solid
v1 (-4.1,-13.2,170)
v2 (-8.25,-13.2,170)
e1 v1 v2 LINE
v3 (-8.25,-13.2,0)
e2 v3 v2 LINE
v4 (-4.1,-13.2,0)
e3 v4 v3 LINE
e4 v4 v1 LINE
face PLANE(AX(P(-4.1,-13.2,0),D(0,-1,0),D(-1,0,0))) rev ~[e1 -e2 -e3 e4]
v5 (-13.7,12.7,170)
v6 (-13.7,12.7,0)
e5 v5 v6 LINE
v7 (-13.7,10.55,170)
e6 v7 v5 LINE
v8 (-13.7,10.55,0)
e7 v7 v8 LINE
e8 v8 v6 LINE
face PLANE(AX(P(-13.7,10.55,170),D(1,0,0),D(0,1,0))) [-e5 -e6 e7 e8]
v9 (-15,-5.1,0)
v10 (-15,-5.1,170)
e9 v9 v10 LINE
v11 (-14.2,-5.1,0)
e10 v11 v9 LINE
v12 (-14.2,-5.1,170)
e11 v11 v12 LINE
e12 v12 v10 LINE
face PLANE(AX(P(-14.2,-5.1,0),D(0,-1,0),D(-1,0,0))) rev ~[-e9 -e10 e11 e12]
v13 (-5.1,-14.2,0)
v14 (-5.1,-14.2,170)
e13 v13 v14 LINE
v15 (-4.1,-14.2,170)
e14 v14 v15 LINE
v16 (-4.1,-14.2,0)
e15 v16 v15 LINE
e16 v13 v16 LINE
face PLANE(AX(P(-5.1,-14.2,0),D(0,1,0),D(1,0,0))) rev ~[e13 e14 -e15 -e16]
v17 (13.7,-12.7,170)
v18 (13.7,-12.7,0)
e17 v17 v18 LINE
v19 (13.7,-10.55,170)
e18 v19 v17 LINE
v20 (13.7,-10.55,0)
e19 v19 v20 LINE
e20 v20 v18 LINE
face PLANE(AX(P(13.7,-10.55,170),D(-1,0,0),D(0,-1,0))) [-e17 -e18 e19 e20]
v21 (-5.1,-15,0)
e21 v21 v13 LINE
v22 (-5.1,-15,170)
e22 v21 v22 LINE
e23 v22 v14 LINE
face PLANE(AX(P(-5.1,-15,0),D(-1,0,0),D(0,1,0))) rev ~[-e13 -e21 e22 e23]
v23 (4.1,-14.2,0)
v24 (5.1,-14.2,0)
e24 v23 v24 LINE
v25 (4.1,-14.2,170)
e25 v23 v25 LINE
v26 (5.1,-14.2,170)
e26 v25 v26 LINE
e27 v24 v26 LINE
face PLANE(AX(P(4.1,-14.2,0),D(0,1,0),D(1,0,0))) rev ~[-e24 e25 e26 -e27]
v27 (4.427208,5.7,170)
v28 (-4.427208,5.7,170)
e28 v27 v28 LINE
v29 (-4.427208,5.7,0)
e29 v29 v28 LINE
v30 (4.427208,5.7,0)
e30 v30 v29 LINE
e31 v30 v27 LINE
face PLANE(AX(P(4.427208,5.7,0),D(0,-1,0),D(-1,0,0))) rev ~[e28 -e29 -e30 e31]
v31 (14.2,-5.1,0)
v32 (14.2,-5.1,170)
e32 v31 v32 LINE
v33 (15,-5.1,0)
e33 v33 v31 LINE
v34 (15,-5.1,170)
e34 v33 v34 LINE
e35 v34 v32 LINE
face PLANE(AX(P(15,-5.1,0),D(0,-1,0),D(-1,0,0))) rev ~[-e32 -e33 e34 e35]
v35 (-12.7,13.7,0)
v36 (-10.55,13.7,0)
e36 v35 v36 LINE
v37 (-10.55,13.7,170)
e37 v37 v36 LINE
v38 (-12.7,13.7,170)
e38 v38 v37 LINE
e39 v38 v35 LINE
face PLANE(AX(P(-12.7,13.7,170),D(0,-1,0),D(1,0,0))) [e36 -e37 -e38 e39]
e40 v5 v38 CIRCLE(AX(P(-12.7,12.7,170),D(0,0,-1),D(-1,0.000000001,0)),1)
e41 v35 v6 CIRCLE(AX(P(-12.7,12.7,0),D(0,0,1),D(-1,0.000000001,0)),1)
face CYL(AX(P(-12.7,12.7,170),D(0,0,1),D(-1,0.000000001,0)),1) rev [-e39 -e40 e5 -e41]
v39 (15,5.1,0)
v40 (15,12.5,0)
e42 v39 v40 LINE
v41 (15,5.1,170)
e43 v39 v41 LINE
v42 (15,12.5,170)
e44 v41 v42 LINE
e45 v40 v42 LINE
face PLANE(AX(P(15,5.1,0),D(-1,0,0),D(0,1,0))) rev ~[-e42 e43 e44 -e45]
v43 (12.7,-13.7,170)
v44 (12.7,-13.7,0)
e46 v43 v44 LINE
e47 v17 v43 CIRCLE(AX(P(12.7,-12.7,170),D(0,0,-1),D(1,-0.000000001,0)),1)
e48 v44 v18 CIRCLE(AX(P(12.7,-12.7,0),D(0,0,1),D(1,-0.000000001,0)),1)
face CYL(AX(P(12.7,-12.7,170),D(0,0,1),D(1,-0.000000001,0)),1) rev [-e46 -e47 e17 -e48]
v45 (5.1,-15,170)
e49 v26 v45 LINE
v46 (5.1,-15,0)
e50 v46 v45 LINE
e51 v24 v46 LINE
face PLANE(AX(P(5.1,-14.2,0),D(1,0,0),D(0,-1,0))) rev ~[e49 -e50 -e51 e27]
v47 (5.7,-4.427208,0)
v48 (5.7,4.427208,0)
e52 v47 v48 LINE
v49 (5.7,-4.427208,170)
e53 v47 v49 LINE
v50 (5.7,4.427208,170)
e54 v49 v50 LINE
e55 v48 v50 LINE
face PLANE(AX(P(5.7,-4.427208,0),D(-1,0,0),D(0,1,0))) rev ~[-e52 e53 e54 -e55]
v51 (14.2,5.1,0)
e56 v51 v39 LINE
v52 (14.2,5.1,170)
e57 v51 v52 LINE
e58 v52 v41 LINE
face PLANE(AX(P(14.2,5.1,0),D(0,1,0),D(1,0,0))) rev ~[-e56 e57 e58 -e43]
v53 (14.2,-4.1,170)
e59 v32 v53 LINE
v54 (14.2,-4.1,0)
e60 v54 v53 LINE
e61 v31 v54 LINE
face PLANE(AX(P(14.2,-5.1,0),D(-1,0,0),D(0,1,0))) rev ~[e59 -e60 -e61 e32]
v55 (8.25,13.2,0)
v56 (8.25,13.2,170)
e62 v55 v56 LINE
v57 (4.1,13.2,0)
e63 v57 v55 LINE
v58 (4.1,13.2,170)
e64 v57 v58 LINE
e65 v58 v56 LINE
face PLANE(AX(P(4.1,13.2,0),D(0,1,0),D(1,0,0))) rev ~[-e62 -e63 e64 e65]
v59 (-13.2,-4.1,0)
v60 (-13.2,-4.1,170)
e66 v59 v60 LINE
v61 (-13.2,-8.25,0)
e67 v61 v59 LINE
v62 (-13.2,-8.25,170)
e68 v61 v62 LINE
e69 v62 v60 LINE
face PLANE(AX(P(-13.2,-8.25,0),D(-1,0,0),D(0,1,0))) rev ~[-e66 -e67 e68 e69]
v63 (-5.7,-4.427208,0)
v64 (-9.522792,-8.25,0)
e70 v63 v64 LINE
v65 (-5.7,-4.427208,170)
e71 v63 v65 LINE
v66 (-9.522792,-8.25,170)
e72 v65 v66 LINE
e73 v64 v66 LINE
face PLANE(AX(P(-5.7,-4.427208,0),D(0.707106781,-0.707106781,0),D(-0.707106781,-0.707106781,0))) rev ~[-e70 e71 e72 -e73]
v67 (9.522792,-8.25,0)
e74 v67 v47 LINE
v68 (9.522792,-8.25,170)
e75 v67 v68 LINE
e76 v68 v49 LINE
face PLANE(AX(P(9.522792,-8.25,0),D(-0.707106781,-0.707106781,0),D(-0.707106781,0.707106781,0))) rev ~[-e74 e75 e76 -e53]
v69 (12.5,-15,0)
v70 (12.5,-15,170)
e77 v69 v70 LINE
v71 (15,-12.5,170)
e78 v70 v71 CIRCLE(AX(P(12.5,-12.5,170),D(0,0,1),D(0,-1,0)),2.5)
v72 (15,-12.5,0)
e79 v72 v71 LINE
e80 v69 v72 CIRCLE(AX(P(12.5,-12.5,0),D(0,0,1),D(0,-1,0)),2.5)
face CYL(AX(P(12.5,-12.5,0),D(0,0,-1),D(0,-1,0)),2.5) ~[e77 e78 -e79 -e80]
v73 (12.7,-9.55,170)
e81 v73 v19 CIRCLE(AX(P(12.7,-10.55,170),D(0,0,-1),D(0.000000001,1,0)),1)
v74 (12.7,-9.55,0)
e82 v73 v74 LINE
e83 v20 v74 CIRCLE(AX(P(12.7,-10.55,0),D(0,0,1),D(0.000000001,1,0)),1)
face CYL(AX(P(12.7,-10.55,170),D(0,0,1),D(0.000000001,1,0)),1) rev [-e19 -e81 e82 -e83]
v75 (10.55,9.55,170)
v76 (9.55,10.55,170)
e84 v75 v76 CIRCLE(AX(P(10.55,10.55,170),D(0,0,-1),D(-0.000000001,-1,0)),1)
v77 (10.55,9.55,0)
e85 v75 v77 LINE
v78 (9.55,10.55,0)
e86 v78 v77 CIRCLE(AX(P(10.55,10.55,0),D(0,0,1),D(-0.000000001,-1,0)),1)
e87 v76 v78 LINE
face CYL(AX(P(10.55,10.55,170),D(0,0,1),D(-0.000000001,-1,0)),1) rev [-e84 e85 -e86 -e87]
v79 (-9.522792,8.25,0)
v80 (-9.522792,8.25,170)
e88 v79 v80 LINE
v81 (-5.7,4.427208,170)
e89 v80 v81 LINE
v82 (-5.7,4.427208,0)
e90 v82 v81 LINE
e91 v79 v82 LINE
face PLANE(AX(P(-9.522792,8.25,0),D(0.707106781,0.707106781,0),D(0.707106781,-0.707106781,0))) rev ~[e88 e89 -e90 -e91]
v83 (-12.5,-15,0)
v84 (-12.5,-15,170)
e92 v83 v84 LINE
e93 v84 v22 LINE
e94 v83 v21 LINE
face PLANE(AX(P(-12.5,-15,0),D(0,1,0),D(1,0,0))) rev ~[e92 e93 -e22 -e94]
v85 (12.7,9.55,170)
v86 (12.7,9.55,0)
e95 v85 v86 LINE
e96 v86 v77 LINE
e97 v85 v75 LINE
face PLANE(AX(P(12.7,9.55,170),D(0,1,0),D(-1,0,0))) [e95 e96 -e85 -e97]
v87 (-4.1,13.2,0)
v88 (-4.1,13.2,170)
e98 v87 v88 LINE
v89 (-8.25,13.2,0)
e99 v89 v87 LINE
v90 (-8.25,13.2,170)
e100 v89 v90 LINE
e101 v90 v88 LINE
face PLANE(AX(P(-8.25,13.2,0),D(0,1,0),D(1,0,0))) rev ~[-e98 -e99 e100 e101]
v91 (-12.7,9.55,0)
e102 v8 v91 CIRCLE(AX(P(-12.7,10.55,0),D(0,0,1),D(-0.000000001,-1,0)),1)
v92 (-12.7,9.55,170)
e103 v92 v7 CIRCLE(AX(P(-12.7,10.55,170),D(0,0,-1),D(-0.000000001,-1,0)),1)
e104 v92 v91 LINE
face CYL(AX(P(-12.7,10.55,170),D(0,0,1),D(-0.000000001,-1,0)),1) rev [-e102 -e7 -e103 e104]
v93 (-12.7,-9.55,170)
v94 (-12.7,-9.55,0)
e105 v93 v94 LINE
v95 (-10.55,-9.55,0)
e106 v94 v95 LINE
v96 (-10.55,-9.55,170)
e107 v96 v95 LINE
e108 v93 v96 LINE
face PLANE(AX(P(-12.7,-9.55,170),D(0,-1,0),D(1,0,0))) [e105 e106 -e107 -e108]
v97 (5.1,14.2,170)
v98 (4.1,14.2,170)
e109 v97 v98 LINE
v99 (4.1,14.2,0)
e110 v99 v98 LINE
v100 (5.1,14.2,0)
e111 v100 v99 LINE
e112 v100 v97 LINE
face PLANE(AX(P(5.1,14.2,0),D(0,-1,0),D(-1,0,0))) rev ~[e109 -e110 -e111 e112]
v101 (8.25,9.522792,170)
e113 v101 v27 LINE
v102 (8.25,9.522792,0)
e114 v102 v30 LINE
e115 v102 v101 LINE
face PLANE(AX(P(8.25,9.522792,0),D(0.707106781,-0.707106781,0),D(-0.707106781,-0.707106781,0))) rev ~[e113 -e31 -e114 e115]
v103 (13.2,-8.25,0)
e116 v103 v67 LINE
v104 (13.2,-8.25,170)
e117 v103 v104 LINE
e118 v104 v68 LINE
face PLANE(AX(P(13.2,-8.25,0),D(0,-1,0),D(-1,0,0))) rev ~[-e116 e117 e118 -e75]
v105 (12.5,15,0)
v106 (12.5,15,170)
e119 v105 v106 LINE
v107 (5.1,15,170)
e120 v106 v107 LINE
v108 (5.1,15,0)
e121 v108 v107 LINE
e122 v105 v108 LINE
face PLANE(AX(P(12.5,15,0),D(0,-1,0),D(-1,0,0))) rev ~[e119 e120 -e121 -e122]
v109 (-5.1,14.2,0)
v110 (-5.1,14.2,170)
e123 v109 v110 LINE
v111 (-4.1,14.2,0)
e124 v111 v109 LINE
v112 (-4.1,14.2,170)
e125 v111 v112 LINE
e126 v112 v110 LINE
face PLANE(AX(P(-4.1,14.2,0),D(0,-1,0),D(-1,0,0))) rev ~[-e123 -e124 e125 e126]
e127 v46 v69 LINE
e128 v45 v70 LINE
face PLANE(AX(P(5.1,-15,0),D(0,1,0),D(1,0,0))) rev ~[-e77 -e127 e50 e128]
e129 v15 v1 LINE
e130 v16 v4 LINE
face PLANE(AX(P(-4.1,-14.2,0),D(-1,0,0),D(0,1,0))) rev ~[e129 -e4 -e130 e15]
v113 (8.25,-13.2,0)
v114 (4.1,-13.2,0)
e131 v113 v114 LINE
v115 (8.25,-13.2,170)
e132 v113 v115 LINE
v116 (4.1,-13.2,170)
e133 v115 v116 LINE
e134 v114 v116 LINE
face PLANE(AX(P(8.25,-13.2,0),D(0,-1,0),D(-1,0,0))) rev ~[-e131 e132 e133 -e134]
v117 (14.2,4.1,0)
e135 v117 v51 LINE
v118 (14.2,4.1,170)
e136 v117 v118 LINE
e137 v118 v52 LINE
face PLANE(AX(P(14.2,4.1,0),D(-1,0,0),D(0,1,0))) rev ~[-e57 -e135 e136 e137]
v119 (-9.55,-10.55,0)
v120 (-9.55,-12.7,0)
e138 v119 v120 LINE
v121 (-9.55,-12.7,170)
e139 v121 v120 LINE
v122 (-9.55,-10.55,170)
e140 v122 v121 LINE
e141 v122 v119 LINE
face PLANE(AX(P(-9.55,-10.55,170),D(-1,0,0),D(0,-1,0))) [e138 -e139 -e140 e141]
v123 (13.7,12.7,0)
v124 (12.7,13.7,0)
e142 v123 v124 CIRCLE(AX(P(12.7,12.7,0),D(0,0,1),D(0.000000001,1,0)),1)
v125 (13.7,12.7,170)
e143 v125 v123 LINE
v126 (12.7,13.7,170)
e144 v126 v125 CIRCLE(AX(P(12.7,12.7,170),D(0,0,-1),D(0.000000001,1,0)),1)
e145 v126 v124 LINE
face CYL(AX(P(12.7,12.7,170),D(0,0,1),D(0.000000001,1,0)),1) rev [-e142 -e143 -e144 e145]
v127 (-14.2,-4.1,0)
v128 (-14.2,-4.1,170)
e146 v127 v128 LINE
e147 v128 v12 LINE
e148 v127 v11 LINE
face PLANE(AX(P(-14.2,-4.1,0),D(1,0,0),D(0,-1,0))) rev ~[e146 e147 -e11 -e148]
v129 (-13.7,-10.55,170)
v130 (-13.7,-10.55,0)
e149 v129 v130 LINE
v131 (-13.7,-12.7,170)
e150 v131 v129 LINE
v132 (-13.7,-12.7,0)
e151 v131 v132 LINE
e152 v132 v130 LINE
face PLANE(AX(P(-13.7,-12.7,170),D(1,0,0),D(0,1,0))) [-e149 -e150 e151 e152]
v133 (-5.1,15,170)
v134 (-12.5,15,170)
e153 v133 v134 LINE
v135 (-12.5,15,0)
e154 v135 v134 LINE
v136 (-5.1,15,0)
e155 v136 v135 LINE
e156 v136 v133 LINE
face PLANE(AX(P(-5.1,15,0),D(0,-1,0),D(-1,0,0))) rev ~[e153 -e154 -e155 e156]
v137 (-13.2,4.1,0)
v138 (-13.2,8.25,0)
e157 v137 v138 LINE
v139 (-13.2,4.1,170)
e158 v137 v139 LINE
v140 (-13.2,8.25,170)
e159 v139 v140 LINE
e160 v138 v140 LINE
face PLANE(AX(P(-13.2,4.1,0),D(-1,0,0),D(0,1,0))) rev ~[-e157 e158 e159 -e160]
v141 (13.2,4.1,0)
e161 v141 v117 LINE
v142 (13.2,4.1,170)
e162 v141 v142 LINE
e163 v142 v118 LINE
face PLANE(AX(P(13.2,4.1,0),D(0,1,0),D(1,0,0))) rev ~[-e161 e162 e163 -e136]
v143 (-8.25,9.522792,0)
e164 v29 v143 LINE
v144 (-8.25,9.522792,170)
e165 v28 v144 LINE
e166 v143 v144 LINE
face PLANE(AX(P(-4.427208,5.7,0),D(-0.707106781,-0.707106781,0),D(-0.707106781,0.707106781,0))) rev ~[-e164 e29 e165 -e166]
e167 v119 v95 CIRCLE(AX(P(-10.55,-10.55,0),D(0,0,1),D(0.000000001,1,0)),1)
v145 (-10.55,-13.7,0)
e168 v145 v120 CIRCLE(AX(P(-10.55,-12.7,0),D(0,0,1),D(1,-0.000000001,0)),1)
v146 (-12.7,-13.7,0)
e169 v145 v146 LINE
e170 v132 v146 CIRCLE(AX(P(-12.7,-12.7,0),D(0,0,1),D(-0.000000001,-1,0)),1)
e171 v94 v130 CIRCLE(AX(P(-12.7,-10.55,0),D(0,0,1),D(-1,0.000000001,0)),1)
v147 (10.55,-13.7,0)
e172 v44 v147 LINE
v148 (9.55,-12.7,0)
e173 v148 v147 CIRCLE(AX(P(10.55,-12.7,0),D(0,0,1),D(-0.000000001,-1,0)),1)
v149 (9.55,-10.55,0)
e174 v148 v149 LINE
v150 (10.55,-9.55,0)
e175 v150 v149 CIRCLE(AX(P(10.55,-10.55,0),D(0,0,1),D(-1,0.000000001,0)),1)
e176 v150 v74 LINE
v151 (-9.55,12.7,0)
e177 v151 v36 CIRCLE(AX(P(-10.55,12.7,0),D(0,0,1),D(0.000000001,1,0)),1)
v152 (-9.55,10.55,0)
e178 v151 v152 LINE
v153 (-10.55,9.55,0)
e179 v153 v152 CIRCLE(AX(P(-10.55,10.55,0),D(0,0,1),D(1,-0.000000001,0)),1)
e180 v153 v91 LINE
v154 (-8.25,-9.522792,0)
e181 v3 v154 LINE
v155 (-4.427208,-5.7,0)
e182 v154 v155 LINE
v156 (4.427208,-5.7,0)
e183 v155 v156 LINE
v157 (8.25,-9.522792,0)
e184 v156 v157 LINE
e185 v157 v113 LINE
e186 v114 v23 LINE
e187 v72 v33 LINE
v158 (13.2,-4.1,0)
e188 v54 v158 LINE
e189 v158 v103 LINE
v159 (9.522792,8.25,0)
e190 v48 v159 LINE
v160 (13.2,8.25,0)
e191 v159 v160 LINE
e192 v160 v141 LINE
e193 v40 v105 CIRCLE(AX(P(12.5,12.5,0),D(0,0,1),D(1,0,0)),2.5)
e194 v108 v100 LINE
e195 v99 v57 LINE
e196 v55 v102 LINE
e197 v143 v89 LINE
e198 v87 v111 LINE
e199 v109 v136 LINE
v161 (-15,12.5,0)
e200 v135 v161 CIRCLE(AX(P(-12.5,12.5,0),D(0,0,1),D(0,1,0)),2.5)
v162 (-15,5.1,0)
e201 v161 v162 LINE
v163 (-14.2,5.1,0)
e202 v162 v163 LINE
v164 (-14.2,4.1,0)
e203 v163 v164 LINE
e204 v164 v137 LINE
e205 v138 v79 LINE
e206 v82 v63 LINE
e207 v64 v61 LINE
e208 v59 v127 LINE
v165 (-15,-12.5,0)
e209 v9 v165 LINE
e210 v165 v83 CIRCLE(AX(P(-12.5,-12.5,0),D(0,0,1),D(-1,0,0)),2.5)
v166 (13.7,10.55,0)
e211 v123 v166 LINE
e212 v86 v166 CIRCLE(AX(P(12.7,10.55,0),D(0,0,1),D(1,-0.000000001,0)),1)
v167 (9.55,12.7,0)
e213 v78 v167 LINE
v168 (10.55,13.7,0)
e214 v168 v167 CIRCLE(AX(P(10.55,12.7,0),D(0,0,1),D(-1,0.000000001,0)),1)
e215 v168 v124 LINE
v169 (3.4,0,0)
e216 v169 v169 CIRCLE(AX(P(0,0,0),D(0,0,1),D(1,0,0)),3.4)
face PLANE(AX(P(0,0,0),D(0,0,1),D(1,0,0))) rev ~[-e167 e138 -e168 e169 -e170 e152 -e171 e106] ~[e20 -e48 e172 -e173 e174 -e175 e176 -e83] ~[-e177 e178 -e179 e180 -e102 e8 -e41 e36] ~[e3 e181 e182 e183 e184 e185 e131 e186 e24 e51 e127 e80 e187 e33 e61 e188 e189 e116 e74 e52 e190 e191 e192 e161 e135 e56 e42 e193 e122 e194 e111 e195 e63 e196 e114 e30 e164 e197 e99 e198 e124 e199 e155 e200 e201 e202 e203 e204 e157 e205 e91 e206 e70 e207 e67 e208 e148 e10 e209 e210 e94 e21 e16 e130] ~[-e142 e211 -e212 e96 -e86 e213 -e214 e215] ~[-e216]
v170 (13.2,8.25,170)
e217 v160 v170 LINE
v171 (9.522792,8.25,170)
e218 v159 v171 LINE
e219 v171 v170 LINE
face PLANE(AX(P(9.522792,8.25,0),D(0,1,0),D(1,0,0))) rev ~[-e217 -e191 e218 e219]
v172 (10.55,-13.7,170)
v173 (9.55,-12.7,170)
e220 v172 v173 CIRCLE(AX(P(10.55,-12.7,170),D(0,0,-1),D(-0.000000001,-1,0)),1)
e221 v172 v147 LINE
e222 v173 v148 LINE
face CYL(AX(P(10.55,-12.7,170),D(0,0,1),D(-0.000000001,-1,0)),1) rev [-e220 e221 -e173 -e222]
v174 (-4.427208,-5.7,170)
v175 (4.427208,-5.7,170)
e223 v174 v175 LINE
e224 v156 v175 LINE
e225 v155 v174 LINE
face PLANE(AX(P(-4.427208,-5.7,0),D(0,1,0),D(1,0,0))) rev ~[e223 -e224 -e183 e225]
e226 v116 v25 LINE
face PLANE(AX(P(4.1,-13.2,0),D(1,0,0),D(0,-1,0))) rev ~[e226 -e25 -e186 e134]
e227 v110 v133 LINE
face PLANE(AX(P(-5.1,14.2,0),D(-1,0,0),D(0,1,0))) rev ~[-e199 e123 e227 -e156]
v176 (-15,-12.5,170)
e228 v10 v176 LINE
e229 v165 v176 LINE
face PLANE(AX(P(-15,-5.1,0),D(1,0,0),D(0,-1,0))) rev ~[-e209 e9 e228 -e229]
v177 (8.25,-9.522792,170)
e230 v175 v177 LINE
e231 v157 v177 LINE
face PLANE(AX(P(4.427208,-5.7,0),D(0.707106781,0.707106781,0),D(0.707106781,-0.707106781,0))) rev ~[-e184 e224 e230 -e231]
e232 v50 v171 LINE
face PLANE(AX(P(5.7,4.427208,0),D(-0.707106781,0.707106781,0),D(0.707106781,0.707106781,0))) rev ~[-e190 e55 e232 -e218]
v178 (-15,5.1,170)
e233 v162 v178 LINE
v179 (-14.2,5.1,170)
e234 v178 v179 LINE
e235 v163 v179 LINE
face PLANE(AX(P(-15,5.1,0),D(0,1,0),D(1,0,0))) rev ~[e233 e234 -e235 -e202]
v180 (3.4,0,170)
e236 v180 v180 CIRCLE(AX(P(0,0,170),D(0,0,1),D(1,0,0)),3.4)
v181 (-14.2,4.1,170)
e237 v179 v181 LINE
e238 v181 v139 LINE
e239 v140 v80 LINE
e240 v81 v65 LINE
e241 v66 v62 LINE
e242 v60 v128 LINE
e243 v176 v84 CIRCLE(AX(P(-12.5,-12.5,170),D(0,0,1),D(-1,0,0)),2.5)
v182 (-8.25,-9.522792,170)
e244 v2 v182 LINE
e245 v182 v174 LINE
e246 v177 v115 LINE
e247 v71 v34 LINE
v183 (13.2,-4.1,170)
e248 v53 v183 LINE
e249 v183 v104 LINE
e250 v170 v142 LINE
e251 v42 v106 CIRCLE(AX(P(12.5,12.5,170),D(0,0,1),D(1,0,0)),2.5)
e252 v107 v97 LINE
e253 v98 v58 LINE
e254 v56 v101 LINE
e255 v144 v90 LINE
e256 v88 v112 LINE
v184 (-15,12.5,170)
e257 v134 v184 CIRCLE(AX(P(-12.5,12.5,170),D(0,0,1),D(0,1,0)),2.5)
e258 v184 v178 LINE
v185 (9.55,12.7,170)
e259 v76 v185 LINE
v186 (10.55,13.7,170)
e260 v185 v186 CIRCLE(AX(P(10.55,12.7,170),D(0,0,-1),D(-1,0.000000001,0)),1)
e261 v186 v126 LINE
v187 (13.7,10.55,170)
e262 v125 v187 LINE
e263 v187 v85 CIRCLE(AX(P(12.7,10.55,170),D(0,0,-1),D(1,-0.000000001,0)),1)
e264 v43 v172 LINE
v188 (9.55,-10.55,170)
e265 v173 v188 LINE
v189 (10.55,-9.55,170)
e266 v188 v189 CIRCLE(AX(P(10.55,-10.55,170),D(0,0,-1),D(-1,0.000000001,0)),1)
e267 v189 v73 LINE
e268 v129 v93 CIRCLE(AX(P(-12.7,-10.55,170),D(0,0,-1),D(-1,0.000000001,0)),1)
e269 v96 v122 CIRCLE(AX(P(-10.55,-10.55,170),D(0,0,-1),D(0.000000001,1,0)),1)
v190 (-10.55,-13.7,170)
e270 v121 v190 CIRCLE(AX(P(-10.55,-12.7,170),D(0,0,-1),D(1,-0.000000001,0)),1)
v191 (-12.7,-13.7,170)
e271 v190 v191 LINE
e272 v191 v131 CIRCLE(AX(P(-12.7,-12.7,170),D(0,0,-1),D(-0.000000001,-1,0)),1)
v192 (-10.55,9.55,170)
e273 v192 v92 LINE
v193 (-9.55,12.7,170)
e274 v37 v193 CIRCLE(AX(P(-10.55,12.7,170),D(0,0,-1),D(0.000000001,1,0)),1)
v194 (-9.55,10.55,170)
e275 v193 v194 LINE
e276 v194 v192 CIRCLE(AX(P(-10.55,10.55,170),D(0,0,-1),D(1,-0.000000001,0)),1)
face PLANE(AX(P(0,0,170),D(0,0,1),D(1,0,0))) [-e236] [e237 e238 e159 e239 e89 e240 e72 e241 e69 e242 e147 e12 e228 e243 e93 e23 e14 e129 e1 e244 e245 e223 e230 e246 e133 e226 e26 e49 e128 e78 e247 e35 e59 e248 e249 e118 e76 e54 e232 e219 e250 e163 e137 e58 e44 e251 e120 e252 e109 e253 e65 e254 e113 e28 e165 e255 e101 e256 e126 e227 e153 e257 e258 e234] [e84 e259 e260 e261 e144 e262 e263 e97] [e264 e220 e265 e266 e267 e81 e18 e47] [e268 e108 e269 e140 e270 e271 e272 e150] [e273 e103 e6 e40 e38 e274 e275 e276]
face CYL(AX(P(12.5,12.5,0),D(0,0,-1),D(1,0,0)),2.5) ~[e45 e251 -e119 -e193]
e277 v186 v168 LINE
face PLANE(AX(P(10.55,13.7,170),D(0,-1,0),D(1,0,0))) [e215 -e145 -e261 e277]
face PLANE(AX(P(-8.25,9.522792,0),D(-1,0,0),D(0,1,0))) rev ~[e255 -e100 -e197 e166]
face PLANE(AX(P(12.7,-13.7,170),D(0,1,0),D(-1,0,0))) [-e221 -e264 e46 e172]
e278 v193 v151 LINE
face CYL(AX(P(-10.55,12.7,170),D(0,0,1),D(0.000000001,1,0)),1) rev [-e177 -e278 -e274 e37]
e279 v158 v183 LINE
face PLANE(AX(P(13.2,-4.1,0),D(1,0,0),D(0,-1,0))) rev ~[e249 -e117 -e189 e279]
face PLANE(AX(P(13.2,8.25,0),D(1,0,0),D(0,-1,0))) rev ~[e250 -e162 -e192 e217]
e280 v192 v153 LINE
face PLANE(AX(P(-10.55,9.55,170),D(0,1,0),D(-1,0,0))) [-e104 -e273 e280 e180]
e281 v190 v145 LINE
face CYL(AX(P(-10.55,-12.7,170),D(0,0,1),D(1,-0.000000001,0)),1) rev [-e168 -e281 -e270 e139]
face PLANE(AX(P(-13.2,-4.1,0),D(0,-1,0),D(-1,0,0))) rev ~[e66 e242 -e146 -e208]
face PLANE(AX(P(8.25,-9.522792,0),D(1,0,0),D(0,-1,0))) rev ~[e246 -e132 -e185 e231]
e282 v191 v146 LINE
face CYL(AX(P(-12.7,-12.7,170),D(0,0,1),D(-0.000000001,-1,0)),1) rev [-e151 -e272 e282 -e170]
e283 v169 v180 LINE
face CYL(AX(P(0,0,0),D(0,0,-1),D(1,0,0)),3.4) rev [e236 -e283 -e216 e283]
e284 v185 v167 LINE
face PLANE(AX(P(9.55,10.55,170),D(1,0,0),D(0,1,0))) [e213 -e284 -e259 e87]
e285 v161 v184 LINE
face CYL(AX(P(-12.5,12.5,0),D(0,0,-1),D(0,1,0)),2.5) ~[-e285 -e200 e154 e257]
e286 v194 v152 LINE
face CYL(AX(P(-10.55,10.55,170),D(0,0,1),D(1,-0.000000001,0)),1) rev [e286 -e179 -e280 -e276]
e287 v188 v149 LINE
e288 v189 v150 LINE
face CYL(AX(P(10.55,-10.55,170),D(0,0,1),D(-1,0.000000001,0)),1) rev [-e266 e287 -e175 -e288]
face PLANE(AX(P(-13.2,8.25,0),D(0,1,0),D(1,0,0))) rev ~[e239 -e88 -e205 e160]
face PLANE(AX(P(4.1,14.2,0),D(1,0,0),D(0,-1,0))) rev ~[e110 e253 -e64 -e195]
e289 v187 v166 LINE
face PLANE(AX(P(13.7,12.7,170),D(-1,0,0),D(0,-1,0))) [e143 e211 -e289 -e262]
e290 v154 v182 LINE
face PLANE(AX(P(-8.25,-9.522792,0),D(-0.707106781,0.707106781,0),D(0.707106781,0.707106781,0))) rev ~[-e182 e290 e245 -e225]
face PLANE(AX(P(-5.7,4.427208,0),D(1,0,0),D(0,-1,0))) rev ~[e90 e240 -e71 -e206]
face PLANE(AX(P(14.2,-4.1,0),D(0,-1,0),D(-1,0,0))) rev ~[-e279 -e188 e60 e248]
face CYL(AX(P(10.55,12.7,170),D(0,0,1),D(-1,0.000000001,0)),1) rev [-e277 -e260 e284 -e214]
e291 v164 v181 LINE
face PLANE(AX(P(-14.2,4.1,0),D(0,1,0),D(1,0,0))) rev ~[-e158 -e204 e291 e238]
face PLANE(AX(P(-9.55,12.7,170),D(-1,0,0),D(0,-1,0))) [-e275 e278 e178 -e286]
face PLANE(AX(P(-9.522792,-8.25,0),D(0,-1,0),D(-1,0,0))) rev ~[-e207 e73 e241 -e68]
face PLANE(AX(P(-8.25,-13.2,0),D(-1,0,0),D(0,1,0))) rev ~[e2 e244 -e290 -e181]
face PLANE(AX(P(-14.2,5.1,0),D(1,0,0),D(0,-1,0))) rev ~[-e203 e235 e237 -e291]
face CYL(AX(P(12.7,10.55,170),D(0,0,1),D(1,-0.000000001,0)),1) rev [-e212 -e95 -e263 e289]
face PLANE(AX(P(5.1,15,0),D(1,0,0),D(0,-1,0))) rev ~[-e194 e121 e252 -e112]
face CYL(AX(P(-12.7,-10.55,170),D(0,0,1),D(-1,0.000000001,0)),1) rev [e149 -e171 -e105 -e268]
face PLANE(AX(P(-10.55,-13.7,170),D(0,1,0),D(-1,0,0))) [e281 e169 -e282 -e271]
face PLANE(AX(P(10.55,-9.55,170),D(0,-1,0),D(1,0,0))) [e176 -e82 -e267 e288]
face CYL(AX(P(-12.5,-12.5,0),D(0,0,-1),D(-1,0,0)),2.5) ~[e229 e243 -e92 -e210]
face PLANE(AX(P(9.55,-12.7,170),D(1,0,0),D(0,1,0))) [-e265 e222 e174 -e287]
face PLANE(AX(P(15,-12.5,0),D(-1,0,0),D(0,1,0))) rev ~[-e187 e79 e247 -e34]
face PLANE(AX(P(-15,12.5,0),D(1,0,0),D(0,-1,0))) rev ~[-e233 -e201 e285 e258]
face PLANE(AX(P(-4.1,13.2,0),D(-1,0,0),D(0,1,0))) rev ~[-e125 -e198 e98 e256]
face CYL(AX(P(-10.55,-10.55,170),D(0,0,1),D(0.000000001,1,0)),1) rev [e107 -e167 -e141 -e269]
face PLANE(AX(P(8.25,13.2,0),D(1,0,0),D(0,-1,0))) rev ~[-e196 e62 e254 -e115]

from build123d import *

# Parameters (mm, degrees)
SKETCH1_R      = 3.4
EXTRUDE1_DEPTH = 170
EXTRUDE2_DEPTH = 172.31841699


with BuildPart() as part:
    # Sketch1 → Extrude1 (new body)
    with BuildSketch(Plane.XY):
        with BuildLine():
            Line((-5.1, 14.2), (-5.1, 15))
            Line((-5.1, 15), (-12.5, 15))
            ThreePointArc((-12.5, 15), (-14.267766953, 14.267766953), (-15, 12.5))
            Line((-15, 12.5), (-15, 5.1))
            Line((-15, 5.1), (-14.2, 5.1))
            Line((-14.2, 5.1), (-14.2, 4.1))
            Line((-14.2, 4.1), (-13.2, 4.1))
            Line((-13.2, 4.1), (-13.2, 8.25))
            Line((-13.2, 8.25), (-9.522792206, 8.25))
            Line((-9.522792206, 8.25), (-5.7, 4.427207794))
            Line((-5.7, 4.427207794), (-5.7, -4.427207794))
            Line((-5.7, -4.427207794), (-9.522792206, -8.25))
            Line((-9.522792206, -8.25), (-13.2, -8.25))
            Line((-13.2, -8.25), (-13.2, -4.1))
            Line((-13.2, -4.1), (-14.2, -4.1))
            Line((-14.2, -4.1), (-14.2, -5.1))
            Line((-14.2, -5.1), (-15, -5.1))
            Line((-15, -5.1), (-15, -12.5))
            ThreePointArc((-15, -12.5), (-14.267766953, -14.267766953), (-12.5, -15))
            Line((-12.5, -15), (-5.1, -15))
            Line((-5.1, -15), (-5.1, -14.2))
            Line((-5.1, -14.2), (-4.1, -14.2))
            Line((-4.1, -14.2), (-4.1, -13.2))
            Line((-4.1, -13.2), (-8.25, -13.2))
            Line((-8.25, -13.2), (-8.25, -9.522792206))
            Line((-8.25, -9.522792206), (-4.427207794, -5.7))
            Line((-4.427207794, -5.7), (4.427207794, -5.7))
            Line((4.427207794, -5.7), (8.25, -9.522792206))
            Line((8.25, -9.522792206), (8.25, -13.2))
            Line((8.25, -13.2), (4.1, -13.2))
            Line((4.1, -13.2), (4.1, -14.2))
            Line((4.1, -14.2), (5.1, -14.2))
            Line((5.1, -14.2), (5.1, -15))
            Line((5.1, -15), (12.5, -15))
            ThreePointArc((12.5, -15), (14.267766953, -14.267766953), (15, -12.5))
            Line((15, -12.5), (15, -5.1))
            Line((15, -5.1), (14.2, -5.1))
            Line((14.2, -5.1), (14.2, -4.1))
            Line((14.2, -4.1), (13.2, -4.1))
            Line((13.2, -4.1), (13.2, -8.25))
            Line((13.2, -8.25), (9.522792206, -8.25))
            Line((9.522792206, -8.25), (5.7, -4.427207794))
            Line((5.7, -4.427207794), (5.7, 4.427207794))
            Line((5.7, 4.427207794), (9.522792206, 8.25))
            Line((9.522792206, 8.25), (13.2, 8.25))
            Line((13.2, 8.25), (13.2, 4.1))
            Line((13.2, 4.1), (14.2, 4.1))
            Line((14.2, 4.1), (14.2, 5.1))
            Line((14.2, 5.1), (15, 5.1))
            Line((15, 5.1), (15, 12.5))
            ThreePointArc((15, 12.5), (14.267766953, 14.267766953), (12.5, 15))
            Line((12.5, 15), (5.1, 15))
            Line((5.1, 15), (5.1, 14.2))
            Line((5.1, 14.2), (4.1, 14.2))
            Line((4.1, 14.2), (4.1, 13.2))
            Line((4.1, 13.2), (8.25, 13.2))
            Line((8.25, 13.2), (8.25, 9.522792206))
            Line((8.25, 9.522792206), (4.427207794, 5.7))
            Line((4.427207794, 5.7), (-4.427207794, 5.7))
            Line((-4.427207794, 5.7), (-8.25, 9.522792206))
            Line((-8.25, 9.522792206), (-8.25, 13.2))
            Line((-8.25, 13.2), (-4.1, 13.2))
            Line((-4.1, 13.2), (-4.1, 14.2))
            Line((-4.1, 14.2), (-5.1, 14.2))
        make_face()
        Circle(SKETCH1_R, mode=Mode.SUBTRACT)
    extrude(amount=EXTRUDE1_DEPTH)

    # Sketch2 → Extrude2 (cut, through all)
    with BuildSketch(Plane.XY.offset(170)):
        with BuildLine():
            Line((13.7, 12.7), (13.7, 10.55))
            ThreePointArc((13.7, 10.55), (13.407106781, 9.842893219), (12.7, 9.55))
            Line((12.7, 9.55), (10.55, 9.55))
            ThreePointArc((10.55, 9.55), (9.842893219, 9.842893219), (9.55, 10.55))
            Line((9.55, 10.55), (9.55, 12.7))
            ThreePointArc((9.55, 12.7), (9.842893219, 13.407106781), (10.55, 13.7))
            Line((10.55, 13.7), (12.7, 13.7))
            ThreePointArc((12.7, 13.7), (13.407106781, 13.407106781), (13.7, 12.7))
        make_face()
        with BuildLine():
            Line((-12.7, 13.7), (-10.55, 13.7))
            ThreePointArc((-10.55, 13.7), (-9.842893219, 13.407106781), (-9.55, 12.7))
            Line((-9.55, 12.7), (-9.55, 10.55))
            ThreePointArc((-9.55, 10.55), (-9.842893219, 9.842893219), (-10.55, 9.55))
            Line((-10.55, 9.55), (-12.7, 9.55))
            ThreePointArc((-12.7, 9.55), (-13.407106781, 9.842893219), (-13.7, 10.55))
            Line((-13.7, 10.55), (-13.7, 12.7))
            ThreePointArc((-13.7, 12.7), (-13.407106781, 13.407106781), (-12.7, 13.7))
        make_face()
        with BuildLine():
            Line((12.7, -13.7), (10.55, -13.7))
            ThreePointArc((10.55, -13.7), (9.842893219, -13.407106781), (9.55, -12.7))
            Line((9.55, -12.7), (9.55, -10.55))
            ThreePointArc((9.55, -10.55), (9.842893219, -9.842893219), (10.55, -9.55))
            Line((10.55, -9.55), (12.7, -9.55))
            ThreePointArc((12.7, -9.55), (13.407106781, -9.842893219), (13.7, -10.55))
            Line((13.7, -10.55), (13.7, -12.7))
            ThreePointArc((13.7, -12.7), (13.407106781, -13.407106781), (12.7, -13.7))
        make_face()
        with BuildLine():
            Line((-13.7, -12.7), (-13.7, -10.55))
            ThreePointArc((-13.7, -10.55), (-13.407106781, -9.842893219), (-12.7, -9.55))
            Line((-12.7, -9.55), (-10.55, -9.55))
            ThreePointArc((-10.55, -9.55), (-9.842893219, -9.842893219), (-9.55, -10.55))
            Line((-9.55, -10.55), (-9.55, -12.7))
            ThreePointArc((-9.55, -12.7), (-9.842893219, -13.407106781), (-10.55, -13.7))
            Line((-10.55, -13.7), (-12.7, -13.7))
            ThreePointArc((-12.7, -13.7), (-13.407106781, -13.407106781), (-13.7, -12.7))
        make_face()
    extrude(amount=-EXTRUDE2_DEPTH, mode=Mode.SUBTRACT)


solid = part.part
